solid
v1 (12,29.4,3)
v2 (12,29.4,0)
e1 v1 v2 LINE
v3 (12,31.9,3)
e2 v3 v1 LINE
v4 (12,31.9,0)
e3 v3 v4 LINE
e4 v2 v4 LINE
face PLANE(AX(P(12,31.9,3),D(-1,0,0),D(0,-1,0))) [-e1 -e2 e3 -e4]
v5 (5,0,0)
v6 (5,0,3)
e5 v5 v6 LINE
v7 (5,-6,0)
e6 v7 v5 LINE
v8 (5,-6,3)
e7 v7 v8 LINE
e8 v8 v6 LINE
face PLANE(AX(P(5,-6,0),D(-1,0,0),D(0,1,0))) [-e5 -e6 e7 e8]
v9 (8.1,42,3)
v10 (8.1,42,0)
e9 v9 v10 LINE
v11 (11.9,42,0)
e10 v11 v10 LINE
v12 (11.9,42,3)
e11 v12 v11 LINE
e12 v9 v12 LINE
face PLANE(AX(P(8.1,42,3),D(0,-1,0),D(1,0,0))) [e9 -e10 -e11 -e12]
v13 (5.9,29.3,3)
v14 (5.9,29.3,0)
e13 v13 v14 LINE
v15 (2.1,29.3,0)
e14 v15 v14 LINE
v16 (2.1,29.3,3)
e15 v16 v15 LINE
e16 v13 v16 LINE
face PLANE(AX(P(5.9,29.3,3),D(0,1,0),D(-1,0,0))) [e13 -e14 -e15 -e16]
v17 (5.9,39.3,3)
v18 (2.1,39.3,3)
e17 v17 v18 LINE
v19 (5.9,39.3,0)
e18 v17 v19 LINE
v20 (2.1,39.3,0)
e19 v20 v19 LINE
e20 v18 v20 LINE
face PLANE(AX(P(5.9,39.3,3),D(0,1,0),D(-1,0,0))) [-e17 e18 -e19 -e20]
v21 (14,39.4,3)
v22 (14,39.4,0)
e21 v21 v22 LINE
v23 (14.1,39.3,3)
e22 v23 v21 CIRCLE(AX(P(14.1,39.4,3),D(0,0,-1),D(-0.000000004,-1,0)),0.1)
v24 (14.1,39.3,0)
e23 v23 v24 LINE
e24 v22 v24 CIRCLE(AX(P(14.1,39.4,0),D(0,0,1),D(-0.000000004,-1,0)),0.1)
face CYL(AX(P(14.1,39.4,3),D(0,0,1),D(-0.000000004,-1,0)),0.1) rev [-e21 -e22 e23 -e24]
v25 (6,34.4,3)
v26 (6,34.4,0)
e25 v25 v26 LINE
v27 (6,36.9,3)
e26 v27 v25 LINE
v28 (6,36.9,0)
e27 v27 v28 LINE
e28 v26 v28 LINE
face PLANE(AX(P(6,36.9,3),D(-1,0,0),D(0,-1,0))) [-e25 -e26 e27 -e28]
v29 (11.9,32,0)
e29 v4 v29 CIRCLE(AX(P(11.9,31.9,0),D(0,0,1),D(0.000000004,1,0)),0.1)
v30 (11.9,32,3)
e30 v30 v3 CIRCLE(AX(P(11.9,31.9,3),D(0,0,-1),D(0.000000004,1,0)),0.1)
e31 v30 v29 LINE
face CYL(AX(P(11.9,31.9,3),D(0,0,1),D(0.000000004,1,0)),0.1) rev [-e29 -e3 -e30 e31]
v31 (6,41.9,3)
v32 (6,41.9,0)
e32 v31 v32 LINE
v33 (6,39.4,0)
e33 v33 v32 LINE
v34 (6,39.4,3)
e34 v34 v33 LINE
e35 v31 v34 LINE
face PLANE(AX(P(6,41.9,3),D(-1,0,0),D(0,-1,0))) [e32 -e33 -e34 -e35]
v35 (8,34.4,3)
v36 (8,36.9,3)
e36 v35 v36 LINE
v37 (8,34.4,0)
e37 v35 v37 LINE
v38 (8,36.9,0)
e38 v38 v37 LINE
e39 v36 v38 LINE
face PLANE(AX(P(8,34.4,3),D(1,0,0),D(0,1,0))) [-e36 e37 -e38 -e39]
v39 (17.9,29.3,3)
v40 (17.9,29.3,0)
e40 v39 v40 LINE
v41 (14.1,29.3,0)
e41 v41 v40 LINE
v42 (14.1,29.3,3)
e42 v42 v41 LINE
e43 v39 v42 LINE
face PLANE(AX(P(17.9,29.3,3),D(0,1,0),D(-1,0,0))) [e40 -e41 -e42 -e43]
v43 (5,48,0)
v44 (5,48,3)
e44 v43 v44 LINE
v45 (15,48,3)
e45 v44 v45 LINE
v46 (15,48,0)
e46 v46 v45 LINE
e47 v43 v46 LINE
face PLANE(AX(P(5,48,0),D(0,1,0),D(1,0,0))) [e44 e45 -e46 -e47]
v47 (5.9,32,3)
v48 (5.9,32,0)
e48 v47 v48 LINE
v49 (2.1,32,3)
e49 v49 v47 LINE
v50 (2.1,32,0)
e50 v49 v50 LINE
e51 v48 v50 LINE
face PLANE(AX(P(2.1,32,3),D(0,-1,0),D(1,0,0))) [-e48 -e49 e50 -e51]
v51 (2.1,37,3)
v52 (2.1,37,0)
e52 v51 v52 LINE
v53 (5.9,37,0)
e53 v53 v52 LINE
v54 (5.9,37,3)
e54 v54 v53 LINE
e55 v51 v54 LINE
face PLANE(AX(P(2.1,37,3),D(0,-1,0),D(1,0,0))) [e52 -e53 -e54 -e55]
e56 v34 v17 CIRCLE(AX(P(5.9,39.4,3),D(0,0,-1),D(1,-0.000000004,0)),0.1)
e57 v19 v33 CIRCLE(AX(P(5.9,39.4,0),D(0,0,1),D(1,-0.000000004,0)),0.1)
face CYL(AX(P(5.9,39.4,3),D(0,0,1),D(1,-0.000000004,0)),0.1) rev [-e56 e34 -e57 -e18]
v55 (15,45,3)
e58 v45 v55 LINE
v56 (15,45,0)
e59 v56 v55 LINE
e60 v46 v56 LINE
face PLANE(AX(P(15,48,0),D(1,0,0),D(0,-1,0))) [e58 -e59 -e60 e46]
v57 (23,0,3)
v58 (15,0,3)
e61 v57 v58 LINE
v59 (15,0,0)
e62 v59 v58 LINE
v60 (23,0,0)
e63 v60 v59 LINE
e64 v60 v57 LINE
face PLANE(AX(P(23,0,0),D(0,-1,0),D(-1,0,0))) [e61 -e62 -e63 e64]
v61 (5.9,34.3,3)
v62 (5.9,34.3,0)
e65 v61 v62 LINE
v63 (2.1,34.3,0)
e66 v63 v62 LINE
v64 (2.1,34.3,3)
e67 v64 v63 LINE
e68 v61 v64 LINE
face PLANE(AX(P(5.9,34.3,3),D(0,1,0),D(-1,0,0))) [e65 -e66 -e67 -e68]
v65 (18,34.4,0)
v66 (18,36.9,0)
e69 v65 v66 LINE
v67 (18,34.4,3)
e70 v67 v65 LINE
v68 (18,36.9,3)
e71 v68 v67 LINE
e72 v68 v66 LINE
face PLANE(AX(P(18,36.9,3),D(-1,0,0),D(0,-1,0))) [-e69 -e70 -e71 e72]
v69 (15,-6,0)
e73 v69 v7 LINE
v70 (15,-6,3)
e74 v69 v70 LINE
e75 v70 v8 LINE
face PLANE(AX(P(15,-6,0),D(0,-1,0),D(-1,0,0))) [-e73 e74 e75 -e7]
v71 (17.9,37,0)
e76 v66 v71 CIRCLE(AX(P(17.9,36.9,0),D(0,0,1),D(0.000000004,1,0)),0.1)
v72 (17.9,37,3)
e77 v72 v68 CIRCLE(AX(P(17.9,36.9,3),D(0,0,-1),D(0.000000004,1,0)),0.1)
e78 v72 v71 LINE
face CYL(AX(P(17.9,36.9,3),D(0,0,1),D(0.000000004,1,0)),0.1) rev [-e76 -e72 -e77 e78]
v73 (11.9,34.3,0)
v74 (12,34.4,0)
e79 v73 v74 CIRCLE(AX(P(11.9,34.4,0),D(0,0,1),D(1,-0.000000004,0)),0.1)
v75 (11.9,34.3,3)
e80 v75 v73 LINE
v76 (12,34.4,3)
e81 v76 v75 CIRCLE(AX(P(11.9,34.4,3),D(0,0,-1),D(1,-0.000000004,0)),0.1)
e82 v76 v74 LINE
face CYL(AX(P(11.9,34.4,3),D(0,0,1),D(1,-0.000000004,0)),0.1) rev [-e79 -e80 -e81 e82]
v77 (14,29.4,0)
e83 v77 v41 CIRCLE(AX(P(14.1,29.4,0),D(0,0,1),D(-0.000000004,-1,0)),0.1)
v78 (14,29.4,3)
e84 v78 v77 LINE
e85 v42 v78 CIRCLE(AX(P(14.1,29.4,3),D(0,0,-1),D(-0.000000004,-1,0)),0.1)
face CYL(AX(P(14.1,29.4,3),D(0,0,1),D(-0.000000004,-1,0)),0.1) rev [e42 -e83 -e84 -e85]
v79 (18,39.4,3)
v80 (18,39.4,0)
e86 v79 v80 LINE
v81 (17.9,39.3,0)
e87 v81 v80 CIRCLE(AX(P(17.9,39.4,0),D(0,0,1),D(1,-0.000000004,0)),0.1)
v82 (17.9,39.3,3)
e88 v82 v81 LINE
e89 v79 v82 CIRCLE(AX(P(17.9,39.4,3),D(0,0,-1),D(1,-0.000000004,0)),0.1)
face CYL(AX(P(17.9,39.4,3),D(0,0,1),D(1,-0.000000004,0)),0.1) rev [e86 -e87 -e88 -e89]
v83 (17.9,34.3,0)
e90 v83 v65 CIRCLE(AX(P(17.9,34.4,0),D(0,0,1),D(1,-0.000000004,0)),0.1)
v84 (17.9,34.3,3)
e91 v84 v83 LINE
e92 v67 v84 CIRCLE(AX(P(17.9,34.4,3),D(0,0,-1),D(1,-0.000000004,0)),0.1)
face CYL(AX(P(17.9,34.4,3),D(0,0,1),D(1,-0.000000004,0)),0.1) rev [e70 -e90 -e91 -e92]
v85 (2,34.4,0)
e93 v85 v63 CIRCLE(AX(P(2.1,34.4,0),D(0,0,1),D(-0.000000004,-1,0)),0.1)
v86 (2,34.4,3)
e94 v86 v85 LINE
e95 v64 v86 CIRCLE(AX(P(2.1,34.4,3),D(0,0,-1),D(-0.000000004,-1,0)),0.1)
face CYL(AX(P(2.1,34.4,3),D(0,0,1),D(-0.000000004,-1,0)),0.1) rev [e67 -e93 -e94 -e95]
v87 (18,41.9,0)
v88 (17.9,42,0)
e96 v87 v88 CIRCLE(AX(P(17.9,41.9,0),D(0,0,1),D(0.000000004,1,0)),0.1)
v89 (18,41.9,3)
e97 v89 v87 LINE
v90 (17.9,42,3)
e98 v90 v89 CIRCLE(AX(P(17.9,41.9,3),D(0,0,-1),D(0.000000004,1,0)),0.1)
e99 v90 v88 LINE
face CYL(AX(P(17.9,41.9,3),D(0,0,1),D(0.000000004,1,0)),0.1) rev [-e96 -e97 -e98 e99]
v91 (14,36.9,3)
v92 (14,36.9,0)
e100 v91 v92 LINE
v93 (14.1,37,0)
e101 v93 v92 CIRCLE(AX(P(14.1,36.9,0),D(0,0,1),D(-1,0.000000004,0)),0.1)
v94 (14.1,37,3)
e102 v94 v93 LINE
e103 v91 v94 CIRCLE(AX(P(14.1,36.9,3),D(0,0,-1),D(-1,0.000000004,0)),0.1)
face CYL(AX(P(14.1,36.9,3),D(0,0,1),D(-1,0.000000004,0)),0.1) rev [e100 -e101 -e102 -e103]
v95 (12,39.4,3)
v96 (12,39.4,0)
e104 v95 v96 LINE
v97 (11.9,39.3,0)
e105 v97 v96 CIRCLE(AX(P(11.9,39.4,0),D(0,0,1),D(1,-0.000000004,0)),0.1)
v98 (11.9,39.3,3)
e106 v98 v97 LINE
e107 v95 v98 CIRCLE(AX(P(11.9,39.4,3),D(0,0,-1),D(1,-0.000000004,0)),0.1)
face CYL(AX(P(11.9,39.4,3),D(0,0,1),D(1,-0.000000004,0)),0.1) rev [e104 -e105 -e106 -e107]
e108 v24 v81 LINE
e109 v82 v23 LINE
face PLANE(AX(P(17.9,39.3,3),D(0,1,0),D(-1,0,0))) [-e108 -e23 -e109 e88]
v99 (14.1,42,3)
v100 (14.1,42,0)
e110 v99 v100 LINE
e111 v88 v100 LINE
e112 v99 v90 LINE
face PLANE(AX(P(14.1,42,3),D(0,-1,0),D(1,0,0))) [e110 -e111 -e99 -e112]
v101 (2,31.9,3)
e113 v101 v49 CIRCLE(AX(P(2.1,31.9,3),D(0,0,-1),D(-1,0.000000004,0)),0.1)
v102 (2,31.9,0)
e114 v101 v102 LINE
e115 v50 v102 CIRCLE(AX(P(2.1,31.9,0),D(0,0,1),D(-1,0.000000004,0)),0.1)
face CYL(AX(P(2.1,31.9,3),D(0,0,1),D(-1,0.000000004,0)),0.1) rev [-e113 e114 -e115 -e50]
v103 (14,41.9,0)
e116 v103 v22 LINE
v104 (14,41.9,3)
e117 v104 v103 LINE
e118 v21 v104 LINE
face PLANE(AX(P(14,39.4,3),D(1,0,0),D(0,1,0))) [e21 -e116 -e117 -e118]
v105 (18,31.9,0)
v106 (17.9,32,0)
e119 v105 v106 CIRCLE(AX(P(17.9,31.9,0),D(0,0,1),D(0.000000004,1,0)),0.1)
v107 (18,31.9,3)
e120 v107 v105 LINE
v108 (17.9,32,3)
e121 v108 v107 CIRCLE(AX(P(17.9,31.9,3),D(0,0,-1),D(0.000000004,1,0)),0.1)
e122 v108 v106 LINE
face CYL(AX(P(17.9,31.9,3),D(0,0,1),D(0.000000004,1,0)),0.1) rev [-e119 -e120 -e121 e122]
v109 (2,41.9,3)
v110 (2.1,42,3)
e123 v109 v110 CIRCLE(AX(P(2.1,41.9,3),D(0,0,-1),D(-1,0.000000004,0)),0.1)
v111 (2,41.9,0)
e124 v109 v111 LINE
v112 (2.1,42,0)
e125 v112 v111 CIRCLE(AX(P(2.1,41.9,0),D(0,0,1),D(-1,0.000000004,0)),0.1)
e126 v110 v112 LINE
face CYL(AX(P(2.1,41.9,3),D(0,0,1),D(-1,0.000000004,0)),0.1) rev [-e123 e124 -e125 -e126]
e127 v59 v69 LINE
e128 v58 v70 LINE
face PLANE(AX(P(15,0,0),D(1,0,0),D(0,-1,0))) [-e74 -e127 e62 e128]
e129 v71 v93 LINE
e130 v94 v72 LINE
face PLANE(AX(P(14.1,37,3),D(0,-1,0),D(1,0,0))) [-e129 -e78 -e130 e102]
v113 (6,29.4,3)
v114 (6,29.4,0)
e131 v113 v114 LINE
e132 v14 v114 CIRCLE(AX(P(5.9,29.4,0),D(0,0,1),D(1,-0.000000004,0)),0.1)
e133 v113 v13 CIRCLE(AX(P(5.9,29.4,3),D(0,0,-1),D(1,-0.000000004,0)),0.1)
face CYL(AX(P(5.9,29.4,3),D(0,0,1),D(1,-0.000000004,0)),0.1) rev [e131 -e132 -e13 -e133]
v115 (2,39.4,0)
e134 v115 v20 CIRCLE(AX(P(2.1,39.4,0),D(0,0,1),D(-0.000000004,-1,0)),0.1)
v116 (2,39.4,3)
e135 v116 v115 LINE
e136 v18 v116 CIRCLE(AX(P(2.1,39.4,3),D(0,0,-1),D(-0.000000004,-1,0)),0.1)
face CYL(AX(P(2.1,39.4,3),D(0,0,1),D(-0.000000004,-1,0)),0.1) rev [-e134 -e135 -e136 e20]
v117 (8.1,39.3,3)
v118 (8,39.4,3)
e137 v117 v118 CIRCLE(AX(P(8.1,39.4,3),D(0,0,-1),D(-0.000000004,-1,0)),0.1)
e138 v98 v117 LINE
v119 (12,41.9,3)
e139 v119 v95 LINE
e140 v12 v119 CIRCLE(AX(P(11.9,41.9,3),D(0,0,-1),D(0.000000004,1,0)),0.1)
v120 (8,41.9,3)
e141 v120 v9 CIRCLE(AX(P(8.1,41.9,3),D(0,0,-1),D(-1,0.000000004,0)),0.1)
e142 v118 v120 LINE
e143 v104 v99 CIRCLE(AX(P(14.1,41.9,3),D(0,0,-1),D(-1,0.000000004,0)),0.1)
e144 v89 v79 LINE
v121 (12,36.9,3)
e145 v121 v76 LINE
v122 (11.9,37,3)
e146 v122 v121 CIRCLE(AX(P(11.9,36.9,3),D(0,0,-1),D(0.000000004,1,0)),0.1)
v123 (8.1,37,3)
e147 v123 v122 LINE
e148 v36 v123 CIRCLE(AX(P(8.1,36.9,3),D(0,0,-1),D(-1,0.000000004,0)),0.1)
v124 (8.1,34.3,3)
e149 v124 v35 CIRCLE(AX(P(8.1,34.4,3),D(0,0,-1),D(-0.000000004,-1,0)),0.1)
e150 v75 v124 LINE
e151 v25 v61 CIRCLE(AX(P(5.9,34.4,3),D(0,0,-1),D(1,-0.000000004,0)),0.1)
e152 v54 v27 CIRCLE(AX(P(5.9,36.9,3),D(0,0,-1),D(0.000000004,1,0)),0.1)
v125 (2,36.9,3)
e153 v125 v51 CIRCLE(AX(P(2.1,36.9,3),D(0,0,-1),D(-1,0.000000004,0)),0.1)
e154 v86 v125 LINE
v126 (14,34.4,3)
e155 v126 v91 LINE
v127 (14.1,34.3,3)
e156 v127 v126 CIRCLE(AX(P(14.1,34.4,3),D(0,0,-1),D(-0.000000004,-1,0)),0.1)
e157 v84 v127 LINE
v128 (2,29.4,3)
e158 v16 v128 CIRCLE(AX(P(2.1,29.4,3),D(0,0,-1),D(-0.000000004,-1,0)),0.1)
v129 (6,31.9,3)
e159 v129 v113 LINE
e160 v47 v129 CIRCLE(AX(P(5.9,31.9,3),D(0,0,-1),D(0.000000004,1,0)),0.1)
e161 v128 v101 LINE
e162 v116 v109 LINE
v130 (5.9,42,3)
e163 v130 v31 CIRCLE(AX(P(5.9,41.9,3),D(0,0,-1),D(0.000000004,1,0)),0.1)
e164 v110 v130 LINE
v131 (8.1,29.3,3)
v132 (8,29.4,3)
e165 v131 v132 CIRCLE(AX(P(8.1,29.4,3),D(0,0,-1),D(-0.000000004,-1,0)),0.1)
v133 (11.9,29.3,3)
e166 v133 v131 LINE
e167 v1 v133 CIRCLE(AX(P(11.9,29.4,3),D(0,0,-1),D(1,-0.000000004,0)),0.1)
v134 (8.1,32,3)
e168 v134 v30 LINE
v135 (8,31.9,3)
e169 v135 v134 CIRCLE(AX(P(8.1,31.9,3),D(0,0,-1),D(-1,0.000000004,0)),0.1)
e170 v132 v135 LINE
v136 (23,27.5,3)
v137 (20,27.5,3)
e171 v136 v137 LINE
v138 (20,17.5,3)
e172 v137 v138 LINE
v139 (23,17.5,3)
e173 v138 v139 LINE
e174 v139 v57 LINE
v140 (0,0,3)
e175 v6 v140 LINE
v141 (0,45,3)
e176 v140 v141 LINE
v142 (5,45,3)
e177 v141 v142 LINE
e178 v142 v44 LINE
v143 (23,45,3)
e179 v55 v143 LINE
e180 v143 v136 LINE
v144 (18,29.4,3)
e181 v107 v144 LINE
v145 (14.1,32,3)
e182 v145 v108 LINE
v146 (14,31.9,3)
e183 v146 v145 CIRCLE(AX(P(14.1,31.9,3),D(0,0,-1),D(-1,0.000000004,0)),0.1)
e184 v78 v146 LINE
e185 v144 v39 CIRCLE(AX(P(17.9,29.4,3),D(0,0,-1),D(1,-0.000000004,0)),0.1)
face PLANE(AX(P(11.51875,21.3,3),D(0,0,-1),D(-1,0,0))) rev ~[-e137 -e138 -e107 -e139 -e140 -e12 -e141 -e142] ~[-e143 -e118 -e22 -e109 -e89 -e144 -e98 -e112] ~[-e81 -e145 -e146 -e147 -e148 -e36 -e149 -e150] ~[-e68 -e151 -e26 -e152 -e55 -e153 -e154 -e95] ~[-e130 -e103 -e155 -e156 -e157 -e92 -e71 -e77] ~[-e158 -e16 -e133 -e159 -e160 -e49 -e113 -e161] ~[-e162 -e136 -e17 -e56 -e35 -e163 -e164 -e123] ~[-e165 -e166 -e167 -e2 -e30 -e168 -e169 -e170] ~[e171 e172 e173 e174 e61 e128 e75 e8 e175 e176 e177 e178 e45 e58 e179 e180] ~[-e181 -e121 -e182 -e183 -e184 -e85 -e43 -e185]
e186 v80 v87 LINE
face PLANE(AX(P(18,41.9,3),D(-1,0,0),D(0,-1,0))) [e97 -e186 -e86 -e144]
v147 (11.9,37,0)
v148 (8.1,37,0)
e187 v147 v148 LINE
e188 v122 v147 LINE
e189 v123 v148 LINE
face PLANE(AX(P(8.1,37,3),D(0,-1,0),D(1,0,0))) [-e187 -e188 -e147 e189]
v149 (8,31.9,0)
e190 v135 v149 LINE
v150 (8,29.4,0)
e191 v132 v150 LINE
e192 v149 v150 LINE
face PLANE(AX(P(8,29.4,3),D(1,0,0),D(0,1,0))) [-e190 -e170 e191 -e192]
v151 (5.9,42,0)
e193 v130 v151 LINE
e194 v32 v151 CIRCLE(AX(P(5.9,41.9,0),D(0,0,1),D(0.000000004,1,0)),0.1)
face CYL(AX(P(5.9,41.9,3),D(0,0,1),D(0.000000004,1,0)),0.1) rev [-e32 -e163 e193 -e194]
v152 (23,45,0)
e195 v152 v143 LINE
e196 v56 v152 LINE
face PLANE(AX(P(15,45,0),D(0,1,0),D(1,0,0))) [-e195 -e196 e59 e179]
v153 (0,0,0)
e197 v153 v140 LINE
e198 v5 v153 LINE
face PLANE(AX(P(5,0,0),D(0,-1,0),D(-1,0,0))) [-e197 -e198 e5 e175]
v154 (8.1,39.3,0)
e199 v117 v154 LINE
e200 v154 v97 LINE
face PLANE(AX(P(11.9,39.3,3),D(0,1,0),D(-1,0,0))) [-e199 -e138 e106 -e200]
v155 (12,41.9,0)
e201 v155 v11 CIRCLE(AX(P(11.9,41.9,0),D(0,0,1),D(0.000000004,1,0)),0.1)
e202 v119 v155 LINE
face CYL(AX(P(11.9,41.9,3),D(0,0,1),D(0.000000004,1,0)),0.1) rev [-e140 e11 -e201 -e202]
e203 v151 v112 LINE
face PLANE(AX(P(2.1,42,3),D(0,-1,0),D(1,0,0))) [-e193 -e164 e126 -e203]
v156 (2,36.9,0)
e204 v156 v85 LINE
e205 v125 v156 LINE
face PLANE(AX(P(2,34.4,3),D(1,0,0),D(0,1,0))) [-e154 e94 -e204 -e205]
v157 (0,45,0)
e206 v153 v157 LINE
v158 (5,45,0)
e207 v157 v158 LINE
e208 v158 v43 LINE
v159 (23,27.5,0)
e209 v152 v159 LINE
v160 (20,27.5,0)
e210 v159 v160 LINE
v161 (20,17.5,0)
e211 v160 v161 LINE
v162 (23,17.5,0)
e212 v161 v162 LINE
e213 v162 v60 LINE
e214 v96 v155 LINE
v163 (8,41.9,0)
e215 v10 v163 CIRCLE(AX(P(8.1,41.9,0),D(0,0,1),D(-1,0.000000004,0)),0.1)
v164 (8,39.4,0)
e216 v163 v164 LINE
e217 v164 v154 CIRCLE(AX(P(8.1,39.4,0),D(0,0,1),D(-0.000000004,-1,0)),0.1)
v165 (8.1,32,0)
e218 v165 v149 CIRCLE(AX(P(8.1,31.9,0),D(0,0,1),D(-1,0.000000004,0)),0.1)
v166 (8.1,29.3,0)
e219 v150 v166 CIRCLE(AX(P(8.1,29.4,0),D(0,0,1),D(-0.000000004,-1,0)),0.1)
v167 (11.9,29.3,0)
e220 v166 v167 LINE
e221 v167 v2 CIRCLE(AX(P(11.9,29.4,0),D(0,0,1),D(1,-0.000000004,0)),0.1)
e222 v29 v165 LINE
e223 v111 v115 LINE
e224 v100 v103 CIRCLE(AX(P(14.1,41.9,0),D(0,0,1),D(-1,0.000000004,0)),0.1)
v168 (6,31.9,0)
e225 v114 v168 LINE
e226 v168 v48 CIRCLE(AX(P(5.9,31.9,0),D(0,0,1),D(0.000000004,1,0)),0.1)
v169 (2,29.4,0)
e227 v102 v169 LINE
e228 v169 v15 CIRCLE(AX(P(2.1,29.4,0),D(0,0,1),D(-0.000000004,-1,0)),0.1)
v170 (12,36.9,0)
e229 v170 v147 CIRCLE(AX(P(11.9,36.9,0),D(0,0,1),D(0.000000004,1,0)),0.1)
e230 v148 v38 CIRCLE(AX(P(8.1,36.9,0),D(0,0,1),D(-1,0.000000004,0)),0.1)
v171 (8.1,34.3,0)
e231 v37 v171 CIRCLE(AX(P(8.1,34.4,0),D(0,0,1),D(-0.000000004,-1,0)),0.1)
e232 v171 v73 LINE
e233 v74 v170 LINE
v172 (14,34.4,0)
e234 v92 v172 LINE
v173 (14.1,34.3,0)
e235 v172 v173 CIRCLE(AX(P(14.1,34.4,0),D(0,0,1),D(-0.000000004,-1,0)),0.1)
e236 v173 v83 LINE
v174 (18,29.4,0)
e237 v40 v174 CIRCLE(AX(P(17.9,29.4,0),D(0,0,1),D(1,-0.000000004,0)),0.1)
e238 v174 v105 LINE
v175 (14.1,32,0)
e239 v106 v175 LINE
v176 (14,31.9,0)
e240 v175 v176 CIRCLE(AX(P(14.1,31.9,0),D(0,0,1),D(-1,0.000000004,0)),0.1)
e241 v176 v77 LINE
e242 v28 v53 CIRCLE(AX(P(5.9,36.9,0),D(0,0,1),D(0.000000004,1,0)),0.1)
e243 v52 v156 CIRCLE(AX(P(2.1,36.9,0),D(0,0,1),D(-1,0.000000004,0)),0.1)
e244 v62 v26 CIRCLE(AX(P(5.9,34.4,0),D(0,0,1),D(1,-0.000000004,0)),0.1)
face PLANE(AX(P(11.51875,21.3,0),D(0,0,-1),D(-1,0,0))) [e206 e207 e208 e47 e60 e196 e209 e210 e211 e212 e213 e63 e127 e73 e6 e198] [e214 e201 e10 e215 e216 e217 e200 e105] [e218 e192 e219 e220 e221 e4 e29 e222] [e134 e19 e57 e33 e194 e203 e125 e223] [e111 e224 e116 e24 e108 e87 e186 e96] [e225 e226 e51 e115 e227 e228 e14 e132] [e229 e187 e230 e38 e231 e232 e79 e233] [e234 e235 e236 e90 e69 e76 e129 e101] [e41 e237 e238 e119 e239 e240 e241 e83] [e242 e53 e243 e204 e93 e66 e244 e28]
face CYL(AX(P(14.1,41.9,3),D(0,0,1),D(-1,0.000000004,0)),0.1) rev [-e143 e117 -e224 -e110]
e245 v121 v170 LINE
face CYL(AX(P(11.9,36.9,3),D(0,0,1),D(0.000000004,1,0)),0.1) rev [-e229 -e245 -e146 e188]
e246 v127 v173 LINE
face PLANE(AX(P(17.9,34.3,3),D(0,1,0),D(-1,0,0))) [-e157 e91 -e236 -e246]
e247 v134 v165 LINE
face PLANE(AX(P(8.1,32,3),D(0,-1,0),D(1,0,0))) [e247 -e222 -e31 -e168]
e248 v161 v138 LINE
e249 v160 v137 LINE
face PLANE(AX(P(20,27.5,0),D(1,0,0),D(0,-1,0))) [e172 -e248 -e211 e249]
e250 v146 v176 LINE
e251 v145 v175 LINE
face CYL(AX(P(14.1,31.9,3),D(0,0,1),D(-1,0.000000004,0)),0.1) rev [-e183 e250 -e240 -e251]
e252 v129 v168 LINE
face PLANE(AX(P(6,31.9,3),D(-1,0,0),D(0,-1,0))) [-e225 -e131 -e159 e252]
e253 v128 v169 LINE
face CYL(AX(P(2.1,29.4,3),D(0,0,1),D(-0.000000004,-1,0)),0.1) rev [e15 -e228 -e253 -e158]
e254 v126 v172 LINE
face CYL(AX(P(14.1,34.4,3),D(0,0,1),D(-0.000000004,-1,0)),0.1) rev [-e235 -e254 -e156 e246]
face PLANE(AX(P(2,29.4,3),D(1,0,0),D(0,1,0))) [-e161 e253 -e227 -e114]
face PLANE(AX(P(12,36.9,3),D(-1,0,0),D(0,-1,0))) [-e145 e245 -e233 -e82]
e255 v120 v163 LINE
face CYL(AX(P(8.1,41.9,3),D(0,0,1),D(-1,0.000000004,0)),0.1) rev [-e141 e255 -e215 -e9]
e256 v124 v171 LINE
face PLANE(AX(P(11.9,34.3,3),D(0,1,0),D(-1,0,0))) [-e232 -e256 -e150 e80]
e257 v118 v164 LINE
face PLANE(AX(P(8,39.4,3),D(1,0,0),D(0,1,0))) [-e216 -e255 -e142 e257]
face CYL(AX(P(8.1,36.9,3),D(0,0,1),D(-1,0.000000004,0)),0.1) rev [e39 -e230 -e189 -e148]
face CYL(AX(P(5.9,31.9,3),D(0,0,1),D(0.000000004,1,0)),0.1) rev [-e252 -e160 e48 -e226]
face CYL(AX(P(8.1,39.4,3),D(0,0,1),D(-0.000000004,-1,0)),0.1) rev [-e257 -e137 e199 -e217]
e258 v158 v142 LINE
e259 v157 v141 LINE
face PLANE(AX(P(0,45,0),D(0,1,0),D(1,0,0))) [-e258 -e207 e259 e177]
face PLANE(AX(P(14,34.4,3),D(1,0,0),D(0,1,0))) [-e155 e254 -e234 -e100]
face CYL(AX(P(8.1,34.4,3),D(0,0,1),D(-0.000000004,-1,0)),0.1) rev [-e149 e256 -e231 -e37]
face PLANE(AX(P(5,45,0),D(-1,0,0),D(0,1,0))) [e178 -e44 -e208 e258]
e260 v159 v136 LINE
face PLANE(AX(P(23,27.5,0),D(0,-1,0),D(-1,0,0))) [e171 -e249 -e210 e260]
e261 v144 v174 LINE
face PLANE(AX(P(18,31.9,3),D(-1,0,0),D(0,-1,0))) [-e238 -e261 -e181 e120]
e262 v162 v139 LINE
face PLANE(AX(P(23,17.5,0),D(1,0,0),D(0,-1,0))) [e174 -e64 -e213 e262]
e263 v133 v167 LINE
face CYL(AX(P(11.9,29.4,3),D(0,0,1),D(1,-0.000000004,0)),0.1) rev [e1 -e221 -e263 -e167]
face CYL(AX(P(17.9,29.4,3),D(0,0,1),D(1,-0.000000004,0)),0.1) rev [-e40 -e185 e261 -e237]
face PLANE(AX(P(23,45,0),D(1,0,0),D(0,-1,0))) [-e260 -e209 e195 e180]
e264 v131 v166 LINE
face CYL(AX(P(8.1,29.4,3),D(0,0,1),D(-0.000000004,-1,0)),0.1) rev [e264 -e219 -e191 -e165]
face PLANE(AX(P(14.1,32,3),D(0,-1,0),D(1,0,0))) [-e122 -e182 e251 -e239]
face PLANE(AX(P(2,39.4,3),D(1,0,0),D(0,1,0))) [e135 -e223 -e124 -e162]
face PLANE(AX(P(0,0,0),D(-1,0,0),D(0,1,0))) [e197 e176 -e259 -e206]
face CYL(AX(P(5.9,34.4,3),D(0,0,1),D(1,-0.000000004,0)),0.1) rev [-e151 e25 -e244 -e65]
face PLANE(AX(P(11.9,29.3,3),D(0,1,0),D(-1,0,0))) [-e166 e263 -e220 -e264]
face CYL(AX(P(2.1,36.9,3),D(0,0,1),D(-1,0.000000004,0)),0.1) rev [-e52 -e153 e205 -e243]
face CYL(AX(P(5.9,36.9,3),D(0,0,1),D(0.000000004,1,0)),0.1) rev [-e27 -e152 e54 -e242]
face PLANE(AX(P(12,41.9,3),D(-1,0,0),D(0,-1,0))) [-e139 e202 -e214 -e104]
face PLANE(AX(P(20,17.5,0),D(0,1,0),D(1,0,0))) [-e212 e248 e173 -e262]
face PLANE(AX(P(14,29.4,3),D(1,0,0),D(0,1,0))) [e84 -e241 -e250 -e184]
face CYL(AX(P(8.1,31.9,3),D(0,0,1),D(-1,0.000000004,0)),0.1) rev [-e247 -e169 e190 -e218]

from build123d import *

# Parameters (mm, degrees)
BOSS_EXTRUDE1_DEPTH = 3
CUT_EXTRUDE1_DEPTH  = 54.310411741


with BuildPart() as part:
    # Sketch1 → Boss-Extrude1 (new body)
    with BuildSketch(Plane.XY):
        Polygon((0, 0), (0, 45), (5, 45), (5, 48), (15, 48), (15, 45), (23, 45), (23, 27.5), (20, 27.5), (20, 17.5), (23, 17.5), (23, 0), (15, 0), (15, -6), (5, -6), (5, 0), align=None)
    extrude(amount=BOSS_EXTRUDE1_DEPTH)

    # Sketch2 → Cut-Extrude1 (cut, through all)
    with BuildSketch(Plane.XY.offset(3)):
        with BuildLine():
            Line((2.1, 42), (5.9, 42))
            ThreePointArc((5.9, 42), (5.970710678, 41.970710678), (6, 41.9))
            Line((6, 41.9), (6, 39.4))
            ThreePointArc((6, 39.4), (5.970710678, 39.329289322), (5.9, 39.3))
            Line((5.9, 39.3), (2.1, 39.3))
            ThreePointArc((2.1, 39.3), (2.029289322, 39.329289322), (2, 39.4))
            Line((2, 39.4), (2, 41.9))
            ThreePointArc((2, 41.9), (2.029289322, 41.970710678), (2.1, 42))
        make_face()
        with BuildLine():
            Line((8.1, 42), (11.9, 42))
            ThreePointArc((11.9, 42), (11.970710678, 41.970710678), (12, 41.9))
            Line((12, 41.9), (12, 39.4))
            ThreePointArc((12, 39.4), (11.970710678, 39.329289322), (11.9, 39.3))
            Line((11.9, 39.3), (8.1, 39.3))
            ThreePointArc((8.1, 39.3), (8.029289322, 39.329289322), (8, 39.4))
            Line((8, 39.4), (8, 41.9))
            ThreePointArc((8, 41.9), (8.029289322, 41.970710678), (8.1, 42))
        make_face()
        with BuildLine():
            Line((14.1, 42), (17.9, 42))
            ThreePointArc((17.9, 42), (17.970710678, 41.970710678), (18, 41.9))
            Line((18, 41.9), (18, 39.4))
            ThreePointArc((18, 39.4), (17.970710678, 39.329289322), (17.9, 39.3))
            Line((17.9, 39.3), (14.1, 39.3))
            ThreePointArc((14.1, 39.3), (14.029289322, 39.329289322), (14, 39.4))
            Line((14, 39.4), (14, 41.9))
            ThreePointArc((14, 41.9), (14.029289322, 41.970710678), (14.1, 42))
        make_face()
        with BuildLine():
            Line((8.1, 37), (11.9, 37))
            ThreePointArc((11.9, 37), (11.970710678, 36.970710678), (12, 36.9))
            Line((12, 36.9), (12, 34.4))
            ThreePointArc((12, 34.4), (11.970710678, 34.329289322), (11.9, 34.3))
            Line((11.9, 34.3), (8.1, 34.3))
            ThreePointArc((8.1, 34.3), (8.029289322, 34.329289322), (8, 34.4))
            Line((8, 34.4), (8, 36.9))
            ThreePointArc((8, 36.9), (8.029289322, 36.970710678), (8.1, 37))
        make_face()
        with BuildLine():
            Line((14.1, 37), (17.9, 37))
            ThreePointArc((17.9, 37), (17.970710678, 36.970710678), (18, 36.9))
            Line((18, 36.9), (18, 34.4))
            ThreePointArc((18, 34.4), (17.970710678, 34.329289322), (17.9, 34.3))
            Line((17.9, 34.3), (14.1, 34.3))
            ThreePointArc((14.1, 34.3), (14.029289322, 34.329289322), (14, 34.4))
            Line((14, 34.4), (14, 36.9))
            ThreePointArc((14, 36.9), (14.029289322, 36.970710678), (14.1, 37))
        make_face()
        with BuildLine():
            Line((8.1, 32), (11.9, 32))
            ThreePointArc((11.9, 32), (11.970710678, 31.970710678), (12, 31.9))
            Line((12, 31.9), (12, 29.4))
            ThreePointArc((12, 29.4), (11.970710678, 29.329289322), (11.9, 29.3))
            Line((11.9, 29.3), (8.1, 29.3))
            ThreePointArc((8.1, 29.3), (8.029289322, 29.329289322), (8, 29.4))
            Line((8, 29.4), (8, 31.9))
            ThreePointArc((8, 31.9), (8.029289322, 31.970710678), (8.1, 32))
        make_face()
        with BuildLine():
            Line((14.1, 32), (17.9, 32))
            ThreePointArc((17.9, 32), (17.970710678, 31.970710678), (18, 31.9))
            Line((18, 31.9), (18, 29.4))
            ThreePointArc((18, 29.4), (17.970710678, 29.329289322), (17.9, 29.3))
            Line((17.9, 29.3), (14.1, 29.3))
            ThreePointArc((14.1, 29.3), (14.029289322, 29.329289322), (14, 29.4))
            Line((14, 29.4), (14, 31.9))
            ThreePointArc((14, 31.9), (14.029289322, 31.970710678), (14.1, 32))
        make_face()
        with BuildLine():
            Line((2.1, 37), (5.9, 37))
            ThreePointArc((5.9, 37), (5.970710678, 36.970710678), (6, 36.9))
            Line((6, 36.9), (6, 34.4))
            ThreePointArc((6, 34.4), (5.970710678, 34.329289322), (5.9, 34.3))
            Line((5.9, 34.3), (2.1, 34.3))
            ThreePointArc((2.1, 34.3), (2.029289322, 34.329289322), (2, 34.4))
            Line((2, 34.4), (2, 36.9))
            ThreePointArc((2, 36.9), (2.029289322, 36.970710678), (2.1, 37))
        make_face()
        with BuildLine():
            Line((2.1, 32), (5.9, 32))
            ThreePointArc((5.9, 32), (5.970710678, 31.970710678), (6, 31.9))
            Line((6, 31.9), (6, 29.4))
            ThreePointArc((6, 29.4), (5.970710678, 29.329289322), (5.9, 29.3))
            Line((5.9, 29.3), (2.1, 29.3))
            ThreePointArc((2.1, 29.3), (2.029289322, 29.329289322), (2, 29.4))
            Line((2, 29.4), (2, 31.9))
            ThreePointArc((2, 31.9), (2.029289322, 31.970710678), (2.1, 32))
        make_face()
    extrude(amount=-CUT_EXTRUDE1_DEPTH, mode=Mode.SUBTRACT)


solid = part.part
